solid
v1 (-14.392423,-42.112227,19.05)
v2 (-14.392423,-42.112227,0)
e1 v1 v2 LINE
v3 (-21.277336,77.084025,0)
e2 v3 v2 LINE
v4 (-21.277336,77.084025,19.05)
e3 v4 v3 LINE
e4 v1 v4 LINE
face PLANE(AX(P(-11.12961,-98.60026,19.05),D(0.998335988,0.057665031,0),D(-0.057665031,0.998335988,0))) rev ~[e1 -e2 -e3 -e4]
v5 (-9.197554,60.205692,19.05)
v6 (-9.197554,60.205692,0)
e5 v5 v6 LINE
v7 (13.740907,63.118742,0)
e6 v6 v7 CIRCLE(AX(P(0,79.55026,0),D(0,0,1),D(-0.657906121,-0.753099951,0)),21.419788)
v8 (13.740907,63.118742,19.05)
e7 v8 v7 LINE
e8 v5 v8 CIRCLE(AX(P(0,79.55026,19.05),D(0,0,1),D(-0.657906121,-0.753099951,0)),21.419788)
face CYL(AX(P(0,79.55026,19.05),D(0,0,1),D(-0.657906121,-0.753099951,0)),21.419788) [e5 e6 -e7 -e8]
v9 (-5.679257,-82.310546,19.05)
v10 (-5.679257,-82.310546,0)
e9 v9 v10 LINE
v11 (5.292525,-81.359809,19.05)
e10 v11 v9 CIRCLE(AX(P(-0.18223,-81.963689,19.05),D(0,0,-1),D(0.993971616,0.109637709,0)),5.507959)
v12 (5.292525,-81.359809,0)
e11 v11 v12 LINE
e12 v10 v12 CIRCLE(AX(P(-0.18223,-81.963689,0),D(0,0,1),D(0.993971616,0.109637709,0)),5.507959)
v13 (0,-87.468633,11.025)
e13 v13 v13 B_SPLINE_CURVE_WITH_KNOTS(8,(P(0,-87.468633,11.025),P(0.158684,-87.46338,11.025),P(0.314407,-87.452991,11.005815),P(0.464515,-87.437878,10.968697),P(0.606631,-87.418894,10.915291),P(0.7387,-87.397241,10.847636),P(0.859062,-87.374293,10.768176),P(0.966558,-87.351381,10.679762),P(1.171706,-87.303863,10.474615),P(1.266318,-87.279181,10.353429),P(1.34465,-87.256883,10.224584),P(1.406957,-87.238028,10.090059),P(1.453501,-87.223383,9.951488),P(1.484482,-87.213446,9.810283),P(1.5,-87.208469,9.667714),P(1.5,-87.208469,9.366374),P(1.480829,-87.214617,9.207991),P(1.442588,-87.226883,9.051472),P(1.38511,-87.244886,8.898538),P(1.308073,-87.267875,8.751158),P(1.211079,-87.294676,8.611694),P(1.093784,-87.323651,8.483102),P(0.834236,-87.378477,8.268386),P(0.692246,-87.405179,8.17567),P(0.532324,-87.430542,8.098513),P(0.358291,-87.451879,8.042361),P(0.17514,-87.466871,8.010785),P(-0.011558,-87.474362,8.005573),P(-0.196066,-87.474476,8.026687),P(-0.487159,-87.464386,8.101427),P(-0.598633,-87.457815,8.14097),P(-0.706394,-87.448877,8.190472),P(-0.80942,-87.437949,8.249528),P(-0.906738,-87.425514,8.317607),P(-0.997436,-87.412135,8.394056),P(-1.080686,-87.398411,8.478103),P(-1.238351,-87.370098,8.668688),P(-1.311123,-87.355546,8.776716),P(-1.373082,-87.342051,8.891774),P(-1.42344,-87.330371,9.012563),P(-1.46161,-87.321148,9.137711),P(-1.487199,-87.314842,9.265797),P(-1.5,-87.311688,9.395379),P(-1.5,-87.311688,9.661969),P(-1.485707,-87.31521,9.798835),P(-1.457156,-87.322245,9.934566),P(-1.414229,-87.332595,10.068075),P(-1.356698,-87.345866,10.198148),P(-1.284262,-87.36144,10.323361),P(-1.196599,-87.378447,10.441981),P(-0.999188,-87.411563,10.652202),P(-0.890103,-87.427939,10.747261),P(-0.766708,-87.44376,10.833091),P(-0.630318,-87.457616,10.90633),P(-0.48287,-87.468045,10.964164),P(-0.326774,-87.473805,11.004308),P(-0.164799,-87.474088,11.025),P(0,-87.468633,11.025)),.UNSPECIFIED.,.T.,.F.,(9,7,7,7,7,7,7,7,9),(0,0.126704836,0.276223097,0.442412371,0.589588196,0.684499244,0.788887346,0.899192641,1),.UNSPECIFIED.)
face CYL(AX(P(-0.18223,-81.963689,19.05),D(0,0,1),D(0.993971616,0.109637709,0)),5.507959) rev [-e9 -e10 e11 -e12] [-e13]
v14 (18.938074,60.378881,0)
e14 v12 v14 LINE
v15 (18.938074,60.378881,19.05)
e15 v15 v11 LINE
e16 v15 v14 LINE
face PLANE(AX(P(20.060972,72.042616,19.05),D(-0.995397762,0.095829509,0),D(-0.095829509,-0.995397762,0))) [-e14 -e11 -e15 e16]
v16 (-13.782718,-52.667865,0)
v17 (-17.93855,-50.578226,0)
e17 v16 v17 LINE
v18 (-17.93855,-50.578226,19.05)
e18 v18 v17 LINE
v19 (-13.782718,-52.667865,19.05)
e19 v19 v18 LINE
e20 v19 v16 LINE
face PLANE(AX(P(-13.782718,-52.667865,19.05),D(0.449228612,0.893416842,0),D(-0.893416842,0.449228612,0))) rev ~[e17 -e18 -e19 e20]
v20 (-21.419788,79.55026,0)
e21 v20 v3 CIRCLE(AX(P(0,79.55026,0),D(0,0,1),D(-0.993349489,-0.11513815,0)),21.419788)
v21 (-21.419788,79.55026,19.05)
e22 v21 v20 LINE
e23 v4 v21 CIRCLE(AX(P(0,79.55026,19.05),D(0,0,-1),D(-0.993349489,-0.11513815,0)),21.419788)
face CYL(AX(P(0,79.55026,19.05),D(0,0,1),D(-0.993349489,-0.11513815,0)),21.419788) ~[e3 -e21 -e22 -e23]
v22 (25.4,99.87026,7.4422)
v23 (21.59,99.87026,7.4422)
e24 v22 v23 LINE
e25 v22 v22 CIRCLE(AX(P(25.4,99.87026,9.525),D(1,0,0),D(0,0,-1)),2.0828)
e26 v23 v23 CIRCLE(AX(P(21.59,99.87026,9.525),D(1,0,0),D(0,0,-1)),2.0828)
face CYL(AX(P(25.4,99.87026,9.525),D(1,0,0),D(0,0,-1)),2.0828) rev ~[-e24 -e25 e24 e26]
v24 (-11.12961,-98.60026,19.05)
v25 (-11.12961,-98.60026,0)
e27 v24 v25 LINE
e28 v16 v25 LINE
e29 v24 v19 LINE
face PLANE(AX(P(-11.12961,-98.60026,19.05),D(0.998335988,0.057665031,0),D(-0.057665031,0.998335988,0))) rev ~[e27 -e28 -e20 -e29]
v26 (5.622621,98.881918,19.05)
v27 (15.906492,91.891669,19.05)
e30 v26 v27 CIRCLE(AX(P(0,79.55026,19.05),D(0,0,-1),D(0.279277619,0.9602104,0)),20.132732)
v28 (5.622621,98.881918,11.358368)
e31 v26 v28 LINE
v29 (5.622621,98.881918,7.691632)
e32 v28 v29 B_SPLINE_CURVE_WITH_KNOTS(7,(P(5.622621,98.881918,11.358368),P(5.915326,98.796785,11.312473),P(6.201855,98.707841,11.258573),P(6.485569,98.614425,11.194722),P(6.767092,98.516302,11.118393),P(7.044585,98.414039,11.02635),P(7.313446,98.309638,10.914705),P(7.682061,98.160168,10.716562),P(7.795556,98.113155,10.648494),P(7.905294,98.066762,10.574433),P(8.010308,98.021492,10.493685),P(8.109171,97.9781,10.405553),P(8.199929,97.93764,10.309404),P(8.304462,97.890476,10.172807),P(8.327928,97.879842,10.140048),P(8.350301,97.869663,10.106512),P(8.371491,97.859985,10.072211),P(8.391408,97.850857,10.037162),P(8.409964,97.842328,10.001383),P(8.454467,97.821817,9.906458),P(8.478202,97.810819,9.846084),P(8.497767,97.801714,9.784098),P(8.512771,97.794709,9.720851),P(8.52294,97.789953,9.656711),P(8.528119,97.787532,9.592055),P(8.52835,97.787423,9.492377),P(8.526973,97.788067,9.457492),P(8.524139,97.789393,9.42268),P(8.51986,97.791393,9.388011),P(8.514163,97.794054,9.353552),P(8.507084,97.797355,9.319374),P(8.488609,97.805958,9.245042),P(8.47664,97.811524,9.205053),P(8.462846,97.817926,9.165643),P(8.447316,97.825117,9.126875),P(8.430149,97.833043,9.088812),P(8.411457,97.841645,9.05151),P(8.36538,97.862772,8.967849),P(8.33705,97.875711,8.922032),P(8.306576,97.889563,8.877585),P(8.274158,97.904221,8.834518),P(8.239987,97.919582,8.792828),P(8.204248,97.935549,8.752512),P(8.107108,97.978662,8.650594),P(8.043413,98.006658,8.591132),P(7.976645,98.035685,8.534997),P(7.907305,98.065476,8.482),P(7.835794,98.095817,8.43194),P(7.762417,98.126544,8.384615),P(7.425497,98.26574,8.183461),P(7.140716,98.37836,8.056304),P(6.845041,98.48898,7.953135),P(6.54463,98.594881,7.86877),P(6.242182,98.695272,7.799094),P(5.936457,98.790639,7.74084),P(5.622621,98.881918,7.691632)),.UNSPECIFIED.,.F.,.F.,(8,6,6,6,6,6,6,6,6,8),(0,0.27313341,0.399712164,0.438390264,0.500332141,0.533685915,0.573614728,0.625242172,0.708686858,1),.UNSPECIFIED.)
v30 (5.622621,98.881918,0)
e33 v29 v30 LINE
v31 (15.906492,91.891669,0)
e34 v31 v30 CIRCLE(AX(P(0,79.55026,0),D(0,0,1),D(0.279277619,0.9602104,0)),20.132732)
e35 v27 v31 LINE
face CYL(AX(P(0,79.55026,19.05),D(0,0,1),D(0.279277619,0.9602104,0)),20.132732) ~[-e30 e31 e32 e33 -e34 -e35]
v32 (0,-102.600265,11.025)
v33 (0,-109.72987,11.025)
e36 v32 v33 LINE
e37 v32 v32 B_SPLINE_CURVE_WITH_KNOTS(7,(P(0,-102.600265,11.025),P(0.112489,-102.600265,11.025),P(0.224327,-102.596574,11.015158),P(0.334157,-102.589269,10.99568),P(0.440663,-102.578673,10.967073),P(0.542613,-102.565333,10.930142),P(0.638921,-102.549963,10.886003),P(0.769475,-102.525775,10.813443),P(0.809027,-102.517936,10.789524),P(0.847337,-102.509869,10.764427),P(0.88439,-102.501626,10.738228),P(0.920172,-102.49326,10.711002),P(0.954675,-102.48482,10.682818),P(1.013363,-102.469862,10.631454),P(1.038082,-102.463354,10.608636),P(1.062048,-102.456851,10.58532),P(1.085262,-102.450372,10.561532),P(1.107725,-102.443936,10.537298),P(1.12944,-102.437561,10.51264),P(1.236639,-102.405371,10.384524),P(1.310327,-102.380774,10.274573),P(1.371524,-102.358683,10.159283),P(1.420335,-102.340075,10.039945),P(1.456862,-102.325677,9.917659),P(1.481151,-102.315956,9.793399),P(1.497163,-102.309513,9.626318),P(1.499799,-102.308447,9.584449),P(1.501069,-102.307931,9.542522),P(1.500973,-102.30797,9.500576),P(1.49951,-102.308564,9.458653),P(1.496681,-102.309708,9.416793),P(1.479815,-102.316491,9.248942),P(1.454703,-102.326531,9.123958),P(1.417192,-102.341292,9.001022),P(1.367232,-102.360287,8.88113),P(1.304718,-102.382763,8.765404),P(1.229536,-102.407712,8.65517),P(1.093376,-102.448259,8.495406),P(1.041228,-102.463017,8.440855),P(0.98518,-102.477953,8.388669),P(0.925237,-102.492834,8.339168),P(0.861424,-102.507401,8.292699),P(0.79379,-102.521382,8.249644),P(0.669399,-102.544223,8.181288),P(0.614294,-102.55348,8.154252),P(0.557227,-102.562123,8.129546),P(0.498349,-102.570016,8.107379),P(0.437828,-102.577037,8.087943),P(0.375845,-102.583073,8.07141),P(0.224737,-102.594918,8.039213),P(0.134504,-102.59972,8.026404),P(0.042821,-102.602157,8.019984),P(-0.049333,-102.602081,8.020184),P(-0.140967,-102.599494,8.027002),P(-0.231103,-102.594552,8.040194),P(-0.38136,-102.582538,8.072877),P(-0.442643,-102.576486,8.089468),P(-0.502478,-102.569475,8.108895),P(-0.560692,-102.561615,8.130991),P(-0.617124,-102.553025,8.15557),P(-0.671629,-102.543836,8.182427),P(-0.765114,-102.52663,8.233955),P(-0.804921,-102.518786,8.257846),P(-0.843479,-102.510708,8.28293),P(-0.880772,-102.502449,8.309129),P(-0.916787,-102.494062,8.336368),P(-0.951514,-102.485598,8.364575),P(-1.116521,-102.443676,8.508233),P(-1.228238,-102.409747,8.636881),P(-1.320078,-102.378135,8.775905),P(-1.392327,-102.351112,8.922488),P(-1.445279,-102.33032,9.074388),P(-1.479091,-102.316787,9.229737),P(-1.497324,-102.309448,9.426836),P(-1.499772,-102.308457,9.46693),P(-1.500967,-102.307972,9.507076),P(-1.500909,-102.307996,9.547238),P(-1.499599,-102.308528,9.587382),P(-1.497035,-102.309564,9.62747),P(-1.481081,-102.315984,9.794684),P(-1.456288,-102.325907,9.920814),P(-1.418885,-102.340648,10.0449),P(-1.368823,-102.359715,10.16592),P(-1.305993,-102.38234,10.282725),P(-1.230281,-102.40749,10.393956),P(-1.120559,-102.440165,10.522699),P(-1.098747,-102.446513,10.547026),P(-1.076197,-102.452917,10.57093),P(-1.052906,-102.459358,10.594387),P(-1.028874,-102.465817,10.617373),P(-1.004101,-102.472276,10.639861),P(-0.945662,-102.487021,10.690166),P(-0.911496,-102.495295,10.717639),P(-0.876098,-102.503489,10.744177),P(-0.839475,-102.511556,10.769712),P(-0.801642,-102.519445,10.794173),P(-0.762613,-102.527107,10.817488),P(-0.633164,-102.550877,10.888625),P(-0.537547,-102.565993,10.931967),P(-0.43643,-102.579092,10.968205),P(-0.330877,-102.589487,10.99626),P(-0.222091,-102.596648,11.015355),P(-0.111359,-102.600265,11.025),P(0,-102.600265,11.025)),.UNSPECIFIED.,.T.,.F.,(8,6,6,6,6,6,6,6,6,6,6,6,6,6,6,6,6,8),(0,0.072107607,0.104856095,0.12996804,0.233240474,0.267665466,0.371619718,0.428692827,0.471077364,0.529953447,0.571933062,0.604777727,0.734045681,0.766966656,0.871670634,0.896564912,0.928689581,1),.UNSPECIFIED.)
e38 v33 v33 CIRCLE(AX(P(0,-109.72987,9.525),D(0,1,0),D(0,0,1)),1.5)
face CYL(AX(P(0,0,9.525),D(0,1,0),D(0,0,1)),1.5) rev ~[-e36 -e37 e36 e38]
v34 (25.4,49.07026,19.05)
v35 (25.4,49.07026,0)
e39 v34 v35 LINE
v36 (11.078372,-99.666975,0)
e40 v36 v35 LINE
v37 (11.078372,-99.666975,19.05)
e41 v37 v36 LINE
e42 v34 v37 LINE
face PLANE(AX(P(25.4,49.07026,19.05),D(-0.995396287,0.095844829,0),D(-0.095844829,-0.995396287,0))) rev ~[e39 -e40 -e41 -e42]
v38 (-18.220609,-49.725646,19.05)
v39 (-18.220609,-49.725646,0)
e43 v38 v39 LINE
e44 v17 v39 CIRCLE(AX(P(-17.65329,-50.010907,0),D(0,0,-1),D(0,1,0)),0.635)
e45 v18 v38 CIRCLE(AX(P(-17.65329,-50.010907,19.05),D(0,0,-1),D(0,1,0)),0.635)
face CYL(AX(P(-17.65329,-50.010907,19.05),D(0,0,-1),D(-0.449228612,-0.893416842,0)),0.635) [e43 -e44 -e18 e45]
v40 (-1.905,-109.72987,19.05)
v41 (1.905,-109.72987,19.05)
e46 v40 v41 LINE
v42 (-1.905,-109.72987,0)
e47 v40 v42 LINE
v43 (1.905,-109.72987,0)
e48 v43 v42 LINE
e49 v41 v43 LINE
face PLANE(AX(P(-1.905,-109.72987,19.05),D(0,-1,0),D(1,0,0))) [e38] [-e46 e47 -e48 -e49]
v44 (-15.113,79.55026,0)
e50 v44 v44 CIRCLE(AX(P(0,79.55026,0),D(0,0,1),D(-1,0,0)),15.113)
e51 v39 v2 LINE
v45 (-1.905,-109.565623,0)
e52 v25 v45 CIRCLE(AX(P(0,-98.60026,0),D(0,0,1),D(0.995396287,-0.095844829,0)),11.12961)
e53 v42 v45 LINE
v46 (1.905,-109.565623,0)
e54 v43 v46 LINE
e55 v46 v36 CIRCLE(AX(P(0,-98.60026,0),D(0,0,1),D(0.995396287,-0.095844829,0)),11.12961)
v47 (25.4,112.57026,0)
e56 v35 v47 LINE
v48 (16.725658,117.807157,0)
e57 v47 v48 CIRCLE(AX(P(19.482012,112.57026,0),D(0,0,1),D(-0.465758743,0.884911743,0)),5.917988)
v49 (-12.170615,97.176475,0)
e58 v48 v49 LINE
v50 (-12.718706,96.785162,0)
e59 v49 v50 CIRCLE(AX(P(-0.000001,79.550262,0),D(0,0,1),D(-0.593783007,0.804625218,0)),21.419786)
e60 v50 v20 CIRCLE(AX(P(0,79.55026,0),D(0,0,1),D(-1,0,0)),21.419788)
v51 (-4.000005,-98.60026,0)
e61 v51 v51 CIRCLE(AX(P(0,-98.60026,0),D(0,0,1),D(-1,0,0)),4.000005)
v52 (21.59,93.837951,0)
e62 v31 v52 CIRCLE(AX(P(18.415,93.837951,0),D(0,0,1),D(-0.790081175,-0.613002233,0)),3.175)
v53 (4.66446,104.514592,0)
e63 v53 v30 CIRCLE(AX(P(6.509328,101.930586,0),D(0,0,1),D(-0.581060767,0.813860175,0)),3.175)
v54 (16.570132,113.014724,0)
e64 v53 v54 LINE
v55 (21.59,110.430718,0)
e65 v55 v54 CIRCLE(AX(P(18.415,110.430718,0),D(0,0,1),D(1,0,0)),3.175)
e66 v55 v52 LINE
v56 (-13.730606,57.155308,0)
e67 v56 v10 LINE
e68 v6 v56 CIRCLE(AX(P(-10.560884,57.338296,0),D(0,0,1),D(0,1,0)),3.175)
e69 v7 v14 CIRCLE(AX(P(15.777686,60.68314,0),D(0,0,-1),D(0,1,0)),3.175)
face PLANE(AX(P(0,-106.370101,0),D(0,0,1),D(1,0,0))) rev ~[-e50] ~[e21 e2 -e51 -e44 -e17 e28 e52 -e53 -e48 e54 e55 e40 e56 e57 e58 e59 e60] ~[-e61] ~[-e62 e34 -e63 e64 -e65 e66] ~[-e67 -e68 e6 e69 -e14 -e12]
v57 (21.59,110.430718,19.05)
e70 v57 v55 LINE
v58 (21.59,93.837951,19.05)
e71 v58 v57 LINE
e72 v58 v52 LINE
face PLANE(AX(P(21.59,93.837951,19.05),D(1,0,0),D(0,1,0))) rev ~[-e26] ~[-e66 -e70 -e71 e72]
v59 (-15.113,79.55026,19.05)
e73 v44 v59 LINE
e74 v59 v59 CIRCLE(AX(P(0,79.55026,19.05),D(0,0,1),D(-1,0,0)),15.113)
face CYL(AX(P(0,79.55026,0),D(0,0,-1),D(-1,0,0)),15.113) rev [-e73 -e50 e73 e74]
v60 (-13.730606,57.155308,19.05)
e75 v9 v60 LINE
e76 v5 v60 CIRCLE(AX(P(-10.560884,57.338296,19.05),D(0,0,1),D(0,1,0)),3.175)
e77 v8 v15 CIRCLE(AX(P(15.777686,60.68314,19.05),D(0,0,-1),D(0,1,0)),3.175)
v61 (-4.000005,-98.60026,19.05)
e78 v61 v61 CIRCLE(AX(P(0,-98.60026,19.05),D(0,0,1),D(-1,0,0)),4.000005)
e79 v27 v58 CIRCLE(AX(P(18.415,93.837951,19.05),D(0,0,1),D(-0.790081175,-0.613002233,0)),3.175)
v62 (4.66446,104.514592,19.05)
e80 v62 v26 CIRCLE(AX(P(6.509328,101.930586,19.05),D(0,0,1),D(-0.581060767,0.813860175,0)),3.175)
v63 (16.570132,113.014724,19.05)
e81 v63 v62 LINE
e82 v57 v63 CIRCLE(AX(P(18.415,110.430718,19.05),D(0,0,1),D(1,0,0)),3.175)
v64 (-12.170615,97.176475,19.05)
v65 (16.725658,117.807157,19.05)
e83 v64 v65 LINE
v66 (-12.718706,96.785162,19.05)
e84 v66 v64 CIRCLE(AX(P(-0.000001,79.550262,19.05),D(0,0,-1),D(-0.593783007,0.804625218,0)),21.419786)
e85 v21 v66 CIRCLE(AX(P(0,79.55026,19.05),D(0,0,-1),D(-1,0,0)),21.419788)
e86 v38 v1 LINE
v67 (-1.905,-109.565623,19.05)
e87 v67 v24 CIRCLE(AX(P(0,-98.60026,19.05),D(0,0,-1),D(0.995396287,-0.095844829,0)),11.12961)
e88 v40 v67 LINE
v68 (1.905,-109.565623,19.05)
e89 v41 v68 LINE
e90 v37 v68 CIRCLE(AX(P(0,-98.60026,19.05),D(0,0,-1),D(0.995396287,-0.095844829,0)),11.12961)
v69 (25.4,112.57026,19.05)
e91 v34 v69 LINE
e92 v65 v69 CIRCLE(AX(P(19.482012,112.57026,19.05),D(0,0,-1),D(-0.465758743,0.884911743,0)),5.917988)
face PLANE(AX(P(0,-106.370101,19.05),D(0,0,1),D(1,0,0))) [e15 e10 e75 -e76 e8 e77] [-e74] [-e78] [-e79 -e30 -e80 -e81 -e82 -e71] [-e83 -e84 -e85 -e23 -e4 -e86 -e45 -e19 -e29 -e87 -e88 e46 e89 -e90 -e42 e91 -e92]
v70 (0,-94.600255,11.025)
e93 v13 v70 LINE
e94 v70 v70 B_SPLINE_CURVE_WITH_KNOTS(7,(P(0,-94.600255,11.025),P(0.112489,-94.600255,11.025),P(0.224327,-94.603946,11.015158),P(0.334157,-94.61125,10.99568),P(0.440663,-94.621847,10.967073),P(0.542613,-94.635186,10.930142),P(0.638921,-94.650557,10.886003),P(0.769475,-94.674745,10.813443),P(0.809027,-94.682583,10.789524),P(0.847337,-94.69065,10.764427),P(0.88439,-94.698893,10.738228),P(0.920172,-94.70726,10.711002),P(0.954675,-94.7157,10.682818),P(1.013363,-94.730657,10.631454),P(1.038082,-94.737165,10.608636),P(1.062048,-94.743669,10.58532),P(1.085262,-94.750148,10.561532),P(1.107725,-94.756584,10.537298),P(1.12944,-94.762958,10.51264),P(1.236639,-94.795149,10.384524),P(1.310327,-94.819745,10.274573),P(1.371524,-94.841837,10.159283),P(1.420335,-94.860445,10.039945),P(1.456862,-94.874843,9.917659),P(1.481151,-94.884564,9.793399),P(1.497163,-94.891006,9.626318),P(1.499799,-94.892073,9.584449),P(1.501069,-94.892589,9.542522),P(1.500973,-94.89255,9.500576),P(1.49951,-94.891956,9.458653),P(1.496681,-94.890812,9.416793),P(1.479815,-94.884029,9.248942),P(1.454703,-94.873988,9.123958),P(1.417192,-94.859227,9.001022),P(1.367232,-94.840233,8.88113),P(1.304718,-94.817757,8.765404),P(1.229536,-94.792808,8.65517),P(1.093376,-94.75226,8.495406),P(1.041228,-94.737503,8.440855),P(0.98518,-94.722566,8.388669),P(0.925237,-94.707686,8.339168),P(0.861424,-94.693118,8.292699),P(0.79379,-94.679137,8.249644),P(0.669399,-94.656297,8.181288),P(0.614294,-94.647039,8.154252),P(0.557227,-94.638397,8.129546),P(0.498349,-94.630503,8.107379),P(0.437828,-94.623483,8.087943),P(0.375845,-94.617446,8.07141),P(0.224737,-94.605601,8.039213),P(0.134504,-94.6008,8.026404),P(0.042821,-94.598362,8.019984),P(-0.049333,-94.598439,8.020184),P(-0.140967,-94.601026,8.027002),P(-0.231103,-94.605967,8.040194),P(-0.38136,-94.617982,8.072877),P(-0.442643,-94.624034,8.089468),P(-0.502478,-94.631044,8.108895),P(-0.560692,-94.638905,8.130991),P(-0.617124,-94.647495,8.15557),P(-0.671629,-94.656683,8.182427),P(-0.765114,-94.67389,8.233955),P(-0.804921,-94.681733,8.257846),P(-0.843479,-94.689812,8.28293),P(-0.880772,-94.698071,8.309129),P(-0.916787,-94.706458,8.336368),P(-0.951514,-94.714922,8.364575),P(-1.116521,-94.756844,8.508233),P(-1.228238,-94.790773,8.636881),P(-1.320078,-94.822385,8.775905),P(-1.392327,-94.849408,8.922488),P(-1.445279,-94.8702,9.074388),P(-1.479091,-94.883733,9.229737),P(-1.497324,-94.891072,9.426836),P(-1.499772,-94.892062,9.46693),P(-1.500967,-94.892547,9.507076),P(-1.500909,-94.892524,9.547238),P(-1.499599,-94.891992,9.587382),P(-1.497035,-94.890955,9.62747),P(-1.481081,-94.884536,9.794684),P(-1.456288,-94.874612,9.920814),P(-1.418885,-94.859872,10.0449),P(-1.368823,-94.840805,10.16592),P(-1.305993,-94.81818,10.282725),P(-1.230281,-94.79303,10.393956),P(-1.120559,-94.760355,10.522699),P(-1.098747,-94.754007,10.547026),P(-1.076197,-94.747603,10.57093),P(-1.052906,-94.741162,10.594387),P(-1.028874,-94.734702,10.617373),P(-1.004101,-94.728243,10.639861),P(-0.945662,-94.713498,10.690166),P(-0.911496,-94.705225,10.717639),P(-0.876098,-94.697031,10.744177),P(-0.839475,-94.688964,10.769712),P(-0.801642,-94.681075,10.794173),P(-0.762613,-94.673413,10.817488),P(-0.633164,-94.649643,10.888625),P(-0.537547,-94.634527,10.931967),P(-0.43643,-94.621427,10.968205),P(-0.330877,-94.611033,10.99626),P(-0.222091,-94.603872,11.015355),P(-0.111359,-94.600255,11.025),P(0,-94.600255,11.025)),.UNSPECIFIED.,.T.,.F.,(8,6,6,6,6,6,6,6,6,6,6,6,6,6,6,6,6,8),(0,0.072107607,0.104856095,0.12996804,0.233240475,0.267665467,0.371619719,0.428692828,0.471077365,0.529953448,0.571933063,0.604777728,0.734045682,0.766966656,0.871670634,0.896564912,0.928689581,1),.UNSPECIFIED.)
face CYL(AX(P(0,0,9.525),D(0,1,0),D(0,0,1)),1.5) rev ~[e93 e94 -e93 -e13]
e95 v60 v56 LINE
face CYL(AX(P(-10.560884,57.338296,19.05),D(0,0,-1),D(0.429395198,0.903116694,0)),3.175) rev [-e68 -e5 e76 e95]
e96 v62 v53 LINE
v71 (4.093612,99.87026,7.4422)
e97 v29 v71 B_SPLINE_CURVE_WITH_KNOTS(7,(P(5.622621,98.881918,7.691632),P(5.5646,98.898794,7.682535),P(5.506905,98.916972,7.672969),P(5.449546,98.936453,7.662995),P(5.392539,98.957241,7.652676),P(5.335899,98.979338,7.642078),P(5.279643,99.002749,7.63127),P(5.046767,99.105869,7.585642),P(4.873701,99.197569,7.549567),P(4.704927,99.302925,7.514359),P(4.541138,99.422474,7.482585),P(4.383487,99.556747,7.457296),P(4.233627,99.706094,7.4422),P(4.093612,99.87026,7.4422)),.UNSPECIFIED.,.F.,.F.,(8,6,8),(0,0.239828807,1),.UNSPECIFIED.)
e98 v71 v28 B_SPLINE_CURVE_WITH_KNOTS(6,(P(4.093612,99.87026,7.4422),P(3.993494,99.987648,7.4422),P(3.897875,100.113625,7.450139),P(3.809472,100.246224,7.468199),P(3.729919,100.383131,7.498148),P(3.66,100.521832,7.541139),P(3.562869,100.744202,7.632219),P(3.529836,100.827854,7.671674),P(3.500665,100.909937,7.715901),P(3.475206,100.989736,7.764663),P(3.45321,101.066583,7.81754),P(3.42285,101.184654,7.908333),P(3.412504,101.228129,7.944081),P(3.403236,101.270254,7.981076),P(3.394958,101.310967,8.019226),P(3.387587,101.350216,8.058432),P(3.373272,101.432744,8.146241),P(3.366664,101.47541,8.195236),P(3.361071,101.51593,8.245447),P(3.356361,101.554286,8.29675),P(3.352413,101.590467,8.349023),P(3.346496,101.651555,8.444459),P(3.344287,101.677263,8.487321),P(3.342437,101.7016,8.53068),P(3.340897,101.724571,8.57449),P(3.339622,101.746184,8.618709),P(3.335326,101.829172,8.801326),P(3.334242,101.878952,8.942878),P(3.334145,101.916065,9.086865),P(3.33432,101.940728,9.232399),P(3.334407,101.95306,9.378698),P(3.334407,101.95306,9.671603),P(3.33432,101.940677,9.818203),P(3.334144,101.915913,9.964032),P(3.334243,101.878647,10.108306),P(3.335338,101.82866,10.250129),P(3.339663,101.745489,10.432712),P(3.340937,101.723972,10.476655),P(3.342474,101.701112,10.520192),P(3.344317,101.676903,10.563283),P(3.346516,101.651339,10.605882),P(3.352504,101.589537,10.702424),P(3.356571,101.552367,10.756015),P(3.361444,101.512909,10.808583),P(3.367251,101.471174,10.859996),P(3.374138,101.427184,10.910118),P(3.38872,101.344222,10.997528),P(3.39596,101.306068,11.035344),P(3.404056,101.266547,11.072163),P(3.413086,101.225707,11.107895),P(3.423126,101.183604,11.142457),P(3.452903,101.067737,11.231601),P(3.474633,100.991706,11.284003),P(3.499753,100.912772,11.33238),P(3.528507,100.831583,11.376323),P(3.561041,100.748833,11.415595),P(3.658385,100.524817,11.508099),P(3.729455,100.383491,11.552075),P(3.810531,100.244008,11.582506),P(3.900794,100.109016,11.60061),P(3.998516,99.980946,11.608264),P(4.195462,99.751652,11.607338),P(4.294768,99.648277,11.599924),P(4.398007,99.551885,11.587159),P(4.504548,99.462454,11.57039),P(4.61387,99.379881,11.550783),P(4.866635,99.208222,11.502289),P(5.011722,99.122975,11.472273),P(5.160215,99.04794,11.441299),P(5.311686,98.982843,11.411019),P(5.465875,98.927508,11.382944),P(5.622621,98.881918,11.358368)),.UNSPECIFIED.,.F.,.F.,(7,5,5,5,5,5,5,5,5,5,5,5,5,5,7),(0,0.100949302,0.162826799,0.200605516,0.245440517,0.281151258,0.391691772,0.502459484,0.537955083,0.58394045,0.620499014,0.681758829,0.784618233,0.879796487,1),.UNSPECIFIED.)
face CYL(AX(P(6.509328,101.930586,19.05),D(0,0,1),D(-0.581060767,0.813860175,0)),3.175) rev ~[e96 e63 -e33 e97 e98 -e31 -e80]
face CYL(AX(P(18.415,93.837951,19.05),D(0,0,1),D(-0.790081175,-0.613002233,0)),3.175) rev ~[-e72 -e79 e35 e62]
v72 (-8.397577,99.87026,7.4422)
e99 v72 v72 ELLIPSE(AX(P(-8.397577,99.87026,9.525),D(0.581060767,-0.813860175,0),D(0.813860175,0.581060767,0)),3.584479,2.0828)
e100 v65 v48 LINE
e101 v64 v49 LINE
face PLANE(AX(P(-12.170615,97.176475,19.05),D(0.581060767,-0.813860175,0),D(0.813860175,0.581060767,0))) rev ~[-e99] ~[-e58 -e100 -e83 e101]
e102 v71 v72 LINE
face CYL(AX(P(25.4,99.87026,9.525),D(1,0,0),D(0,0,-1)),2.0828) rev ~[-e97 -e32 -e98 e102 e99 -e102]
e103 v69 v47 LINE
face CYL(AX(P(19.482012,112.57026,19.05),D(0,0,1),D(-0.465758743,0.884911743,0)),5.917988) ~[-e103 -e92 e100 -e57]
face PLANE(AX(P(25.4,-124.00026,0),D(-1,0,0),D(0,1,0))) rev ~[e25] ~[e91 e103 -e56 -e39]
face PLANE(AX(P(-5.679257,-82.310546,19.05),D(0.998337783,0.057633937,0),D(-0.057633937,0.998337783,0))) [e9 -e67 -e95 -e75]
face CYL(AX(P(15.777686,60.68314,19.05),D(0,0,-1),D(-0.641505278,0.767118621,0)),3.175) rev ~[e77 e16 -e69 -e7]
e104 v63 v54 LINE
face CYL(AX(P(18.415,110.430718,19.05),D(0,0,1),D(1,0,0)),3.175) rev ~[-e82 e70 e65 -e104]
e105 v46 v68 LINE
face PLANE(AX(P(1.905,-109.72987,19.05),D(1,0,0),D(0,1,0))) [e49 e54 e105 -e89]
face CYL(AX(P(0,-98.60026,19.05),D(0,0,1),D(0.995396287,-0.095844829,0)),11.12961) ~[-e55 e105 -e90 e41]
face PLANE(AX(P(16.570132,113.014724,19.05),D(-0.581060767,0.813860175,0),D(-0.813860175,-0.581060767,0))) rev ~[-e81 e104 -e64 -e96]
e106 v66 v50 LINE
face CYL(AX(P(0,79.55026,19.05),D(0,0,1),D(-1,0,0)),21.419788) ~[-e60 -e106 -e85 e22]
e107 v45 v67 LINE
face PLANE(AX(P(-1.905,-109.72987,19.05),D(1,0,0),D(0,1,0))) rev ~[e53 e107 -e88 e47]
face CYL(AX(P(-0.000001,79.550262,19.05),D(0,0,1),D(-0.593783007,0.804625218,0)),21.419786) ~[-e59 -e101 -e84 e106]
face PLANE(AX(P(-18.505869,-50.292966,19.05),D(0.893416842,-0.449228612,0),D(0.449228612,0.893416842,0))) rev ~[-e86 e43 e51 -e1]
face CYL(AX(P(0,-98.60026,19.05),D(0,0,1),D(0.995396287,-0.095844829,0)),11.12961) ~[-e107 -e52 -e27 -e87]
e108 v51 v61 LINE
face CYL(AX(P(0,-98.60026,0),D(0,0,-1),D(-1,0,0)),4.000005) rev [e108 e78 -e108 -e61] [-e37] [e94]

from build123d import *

# Parameters (mm, degrees)
SKETCH1_W           = 50.8
SKETCH1_H           = 248.000519746
SKETCH1_R           = 4.0000047
SKETCH1_R_2         = 15.113
BOSS_EXTRUDE1_DEPTH = 19.05
CUT_EXTRUDE1_REACH  = 137.35
SKETCH3_R           = 2.0828
CUT_EXTRUDE2_REACH  = 130
FILLET2_R           = 3.175
FILLET3_R           = 3.175
CUT_EXTRUDE3_REACH  = 124.668
SKETCH8_R           = 1.500000048
CUT_EXTRUDE4_REACH  = 124.668
SKETCH12_W          = 3.81
SKETCH12_H          = 6.719538638
BOSS_EXTRUDE3_DEPTH = 19.05
SKETCH14_R          = 1.500000048
CUT_EXTRUDE5_DEPTH  = 109.729869862
BOSS_EXTRUDE5_DEPTH = 19.05
FILLET4_R           = 0.635


with BuildPart() as part:
    # Sketch1 → Boss-Extrude1 (new body)
    with BuildSketch(Plane.XY):
        Rectangle(SKETCH1_W, SKETCH1_H)
        with Locations(Location((0, -98.600259873, 0), (0, 0, 180))):
            Circle(SKETCH1_R, mode=Mode.SUBTRACT)
        with Locations(Location((0, 79.550259873, 0), (0, 0, 180))):
            Circle(SKETCH1_R_2, mode=Mode.SUBTRACT)
    extrude(amount=BOSS_EXTRUDE1_DEPTH)

    # Sketch3 → Cut-Extrude1 (cut, up to next)
    with BuildSketch(Plane(origin=(25.4, 0, 0), x_dir=(0, 0, -1), z_dir=(1, 0, 0)), mode=Mode.PRIVATE) as cut_extrude1_sk1:
        with Locations((-9.525, 99.870259873)):
            Circle(SKETCH3_R)
    cut_extrude1_tool1 = extrude(cut_extrude1_sk1.sketch, amount=-CUT_EXTRUDE1_REACH, mode=Mode.PRIVATE) & part.part
    add(cut_extrude1_tool1.solids().sort_by_distance((25.4, 99.87026, 9.525))[0], mode=Mode.SUBTRACT)

    # Sketch4 → Cut-Extrude2 (cut, up to next)
    with BuildSketch(Plane.XY.offset(19.05), mode=Mode.PRIVATE) as cut_extrude2_sk1:
        with BuildLine():
            Line((25.4, -124.000259873), (25.4, 49.070259873))
            Line((25.4, 49.070259873), (11.078372462, -99.666975439))
            ThreePointArc((11.078372462, -99.666975439), (-0.533972701, -109.7170531), (-11.129609989, -98.600259873))
            Line((-11.129609989, -98.600259873), (-21.277335587, 77.084025085))
            ThreePointArc((-21.277335587, 77.084025085), (-21.384145342, 78.315087136), (-21.419788134, 79.550259873))
            ThreePointArc((-21.419788134, 79.550259873), (-19.121183474, 89.203635773), (-12.718706155, 96.785161597))
            ThreePointArc((-12.718706155, 96.785161597), (-12.44619853, 96.982972395), (-12.170614954, 97.176474877))
            Line((-12.170614954, 97.176474877), (16.725657691, 117.807156743))
            Line((16.725657691, 117.807156743), (25.4, 124.000259873))
            Line((25.4, 124.000259873), (-25.4, 124.000259873))
            Line((-25.4, 124.000259873), (-25.4, -124.000259873))
            Line((-25.4, -124.000259873), (25.4, -124.000259873))
        make_face()
    cut_extrude2_tool1 = extrude(cut_extrude2_sk1.sketch, amount=-CUT_EXTRUDE2_REACH, mode=Mode.PRIVATE) & part.part
    # Sketch4 → Cut-Extrude2 (cut, up to next)
    with BuildSketch(Plane.XY.offset(19.05), mode=Mode.PRIVATE) as cut_extrude2_sk2:
        with BuildLine():
            ThreePointArc((16.725657691, 117.807156743), (22.540648101, 117.636552978), (25.4, 112.570259873))
            Line((25.4, 112.570259873), (25.4, 124.000259873))
            Line((25.4, 124.000259873), (16.725657691, 117.807156743))
        make_face()
    cut_extrude2_tool2 = extrude(cut_extrude2_sk2.sketch, amount=-CUT_EXTRUDE2_REACH, mode=Mode.PRIVATE) & part.part
    # Sketch4 → Cut-Extrude2 (cut, up to next)
    with BuildSketch(Plane.XY.offset(19.05), mode=Mode.PRIVATE) as cut_extrude2_sk3:
        with BuildLine():
            ThreePointArc((5.292525145, -81.359808555), (0.293269038, -87.451084718), (-5.679257035, -82.310545911))
            Line((-5.679257035, -82.310545911), (-14.092209721, 63.41901848))
            ThreePointArc((-14.092209721, 63.41901848), (5.243866663, 58.78227523), (20.060972069, 72.042615545))
            Line((20.060972069, 72.042615545), (5.292525145, -81.359808555))
        make_face()
    cut_extrude2_tool3 = extrude(cut_extrude2_sk3.sketch, amount=-CUT_EXTRUDE2_REACH, mode=Mode.PRIVATE) & part.part
    add(cut_extrude2_tool1.solids().sort_by_distance((22.8685, -37.465, 19.05))[0], mode=Mode.SUBTRACT)
    add(cut_extrude2_tool2.solids().sort_by_distance((23.100822, 119.489273, 19.05))[0], mode=Mode.SUBTRACT)
    add(cut_extrude2_tool3.solids().sort_by_distance((1.517355, 0.15341, 19.05))[0], mode=Mode.SUBTRACT)

    # Fillet2
    fillet2_edges = [part.edges().sort_by_distance(p)[0] for p in [
        (-14.092209721, 63.41901848, 9.525),
    ]]
    fillet(fillet2_edges, radius=FILLET2_R)

    # Fillet3
    fillet3_edges = [part.edges().sort_by_distance(p)[0] for p in [
        (20.060972069, 72.042615545, 9.525),
    ]]
    fillet(fillet3_edges, radius=FILLET3_R)

    # Sketch8 → Cut-Extrude3 (cut, up to next)
    with BuildSketch(Plane(origin=(0, 0, 0), x_dir=(1, 0, 0), z_dir=(0, 1, 0)), mode=Mode.PRIVATE) as cut_extrude3_sk1:
        with Locations(Location((0, -9.525, 0), (0, 0, 270))):
            Circle(SKETCH8_R)
    cut_extrude3_tool1 = extrude(cut_extrude3_sk1.sketch, amount=-CUT_EXTRUDE3_REACH, mode=Mode.PRIVATE) & part.part
    add(cut_extrude3_tool1.solids().sort_by_distance((0, 0, 9.525))[0], mode=Mode.SUBTRACT)
    add(cut_extrude3_tool1.solids().sort_by_distance((0, 0, 9.525))[1], mode=Mode.SUBTRACT)

    # Sketch9 → Cut-Extrude4 (cut, up to next)
    with BuildSketch(Plane.XY.offset(19.05), mode=Mode.PRIVATE) as cut_extrude4_sk1:
        with BuildLine():
            Line((21.59, 93.837951404), (21.59, 110.430718326))
            ThreePointArc((21.59, 110.430718326), (19.868129262, 113.2536672), (16.570132064, 113.014724382))
            Line((16.570132064, 113.014724382), (4.664459855, 104.514592245))
            ThreePointArc((4.664459855, 104.514592245), (3.379291217, 101.398142719), (5.622621351, 98.88191817))
            ThreePointArc((5.622621351, 98.88191817), (11.317754993, 96.200644412), (15.90649227, 91.891669316))
            ThreePointArc((15.90649227, 91.891669316), (19.443618723, 90.834192339), (21.59, 93.837951404))
        make_face()
    cut_extrude4_tool1 = extrude(cut_extrude4_sk1.sketch, amount=-CUT_EXTRUDE4_REACH, mode=Mode.PRIVATE) & part.part
    add(cut_extrude4_tool1.solids().sort_by_distance((14.719372, 102.332166, 19.05))[0], mode=Mode.SUBTRACT)

    # Sketch12 → Boss-Extrude3 (add)
    with BuildSketch(Plane.XY.offset(19.05)):
        with Locations((0, -106.370100543)):
            Rectangle(SKETCH12_W, SKETCH12_H)
    extrude(amount=-BOSS_EXTRUDE3_DEPTH)

    # Sketch14 → Cut-Extrude5 (cut)
    with BuildSketch(Plane(origin=(0, 0, 0), x_dir=(1, 0, 0), z_dir=(0, 1, 0))):
        with Locations(Location((0, -9.525, 0), (0, 0, 270))):
            Circle(SKETCH14_R)
    extrude(amount=-CUT_EXTRUDE5_DEPTH, mode=Mode.SUBTRACT)

    # Sketch17 → Boss-Extrude5 (add)
    with BuildSketch(Plane.XY.offset(19.05)):
        Polygon((-14.392423467, -42.112227423), (-13.782717735, -52.66786519), (-18.505869398, -50.292966075), align=None)
    extrude(amount=-BOSS_EXTRUDE5_DEPTH)

    # Fillet4
    fillet4_edges = [part.edges().sort_by_distance(p)[0] for p in [
        (-18.505869398, -50.292966075, 9.525),
    ]]
    fillet(fillet4_edges, radius=FILLET4_R)


solid = part.part
